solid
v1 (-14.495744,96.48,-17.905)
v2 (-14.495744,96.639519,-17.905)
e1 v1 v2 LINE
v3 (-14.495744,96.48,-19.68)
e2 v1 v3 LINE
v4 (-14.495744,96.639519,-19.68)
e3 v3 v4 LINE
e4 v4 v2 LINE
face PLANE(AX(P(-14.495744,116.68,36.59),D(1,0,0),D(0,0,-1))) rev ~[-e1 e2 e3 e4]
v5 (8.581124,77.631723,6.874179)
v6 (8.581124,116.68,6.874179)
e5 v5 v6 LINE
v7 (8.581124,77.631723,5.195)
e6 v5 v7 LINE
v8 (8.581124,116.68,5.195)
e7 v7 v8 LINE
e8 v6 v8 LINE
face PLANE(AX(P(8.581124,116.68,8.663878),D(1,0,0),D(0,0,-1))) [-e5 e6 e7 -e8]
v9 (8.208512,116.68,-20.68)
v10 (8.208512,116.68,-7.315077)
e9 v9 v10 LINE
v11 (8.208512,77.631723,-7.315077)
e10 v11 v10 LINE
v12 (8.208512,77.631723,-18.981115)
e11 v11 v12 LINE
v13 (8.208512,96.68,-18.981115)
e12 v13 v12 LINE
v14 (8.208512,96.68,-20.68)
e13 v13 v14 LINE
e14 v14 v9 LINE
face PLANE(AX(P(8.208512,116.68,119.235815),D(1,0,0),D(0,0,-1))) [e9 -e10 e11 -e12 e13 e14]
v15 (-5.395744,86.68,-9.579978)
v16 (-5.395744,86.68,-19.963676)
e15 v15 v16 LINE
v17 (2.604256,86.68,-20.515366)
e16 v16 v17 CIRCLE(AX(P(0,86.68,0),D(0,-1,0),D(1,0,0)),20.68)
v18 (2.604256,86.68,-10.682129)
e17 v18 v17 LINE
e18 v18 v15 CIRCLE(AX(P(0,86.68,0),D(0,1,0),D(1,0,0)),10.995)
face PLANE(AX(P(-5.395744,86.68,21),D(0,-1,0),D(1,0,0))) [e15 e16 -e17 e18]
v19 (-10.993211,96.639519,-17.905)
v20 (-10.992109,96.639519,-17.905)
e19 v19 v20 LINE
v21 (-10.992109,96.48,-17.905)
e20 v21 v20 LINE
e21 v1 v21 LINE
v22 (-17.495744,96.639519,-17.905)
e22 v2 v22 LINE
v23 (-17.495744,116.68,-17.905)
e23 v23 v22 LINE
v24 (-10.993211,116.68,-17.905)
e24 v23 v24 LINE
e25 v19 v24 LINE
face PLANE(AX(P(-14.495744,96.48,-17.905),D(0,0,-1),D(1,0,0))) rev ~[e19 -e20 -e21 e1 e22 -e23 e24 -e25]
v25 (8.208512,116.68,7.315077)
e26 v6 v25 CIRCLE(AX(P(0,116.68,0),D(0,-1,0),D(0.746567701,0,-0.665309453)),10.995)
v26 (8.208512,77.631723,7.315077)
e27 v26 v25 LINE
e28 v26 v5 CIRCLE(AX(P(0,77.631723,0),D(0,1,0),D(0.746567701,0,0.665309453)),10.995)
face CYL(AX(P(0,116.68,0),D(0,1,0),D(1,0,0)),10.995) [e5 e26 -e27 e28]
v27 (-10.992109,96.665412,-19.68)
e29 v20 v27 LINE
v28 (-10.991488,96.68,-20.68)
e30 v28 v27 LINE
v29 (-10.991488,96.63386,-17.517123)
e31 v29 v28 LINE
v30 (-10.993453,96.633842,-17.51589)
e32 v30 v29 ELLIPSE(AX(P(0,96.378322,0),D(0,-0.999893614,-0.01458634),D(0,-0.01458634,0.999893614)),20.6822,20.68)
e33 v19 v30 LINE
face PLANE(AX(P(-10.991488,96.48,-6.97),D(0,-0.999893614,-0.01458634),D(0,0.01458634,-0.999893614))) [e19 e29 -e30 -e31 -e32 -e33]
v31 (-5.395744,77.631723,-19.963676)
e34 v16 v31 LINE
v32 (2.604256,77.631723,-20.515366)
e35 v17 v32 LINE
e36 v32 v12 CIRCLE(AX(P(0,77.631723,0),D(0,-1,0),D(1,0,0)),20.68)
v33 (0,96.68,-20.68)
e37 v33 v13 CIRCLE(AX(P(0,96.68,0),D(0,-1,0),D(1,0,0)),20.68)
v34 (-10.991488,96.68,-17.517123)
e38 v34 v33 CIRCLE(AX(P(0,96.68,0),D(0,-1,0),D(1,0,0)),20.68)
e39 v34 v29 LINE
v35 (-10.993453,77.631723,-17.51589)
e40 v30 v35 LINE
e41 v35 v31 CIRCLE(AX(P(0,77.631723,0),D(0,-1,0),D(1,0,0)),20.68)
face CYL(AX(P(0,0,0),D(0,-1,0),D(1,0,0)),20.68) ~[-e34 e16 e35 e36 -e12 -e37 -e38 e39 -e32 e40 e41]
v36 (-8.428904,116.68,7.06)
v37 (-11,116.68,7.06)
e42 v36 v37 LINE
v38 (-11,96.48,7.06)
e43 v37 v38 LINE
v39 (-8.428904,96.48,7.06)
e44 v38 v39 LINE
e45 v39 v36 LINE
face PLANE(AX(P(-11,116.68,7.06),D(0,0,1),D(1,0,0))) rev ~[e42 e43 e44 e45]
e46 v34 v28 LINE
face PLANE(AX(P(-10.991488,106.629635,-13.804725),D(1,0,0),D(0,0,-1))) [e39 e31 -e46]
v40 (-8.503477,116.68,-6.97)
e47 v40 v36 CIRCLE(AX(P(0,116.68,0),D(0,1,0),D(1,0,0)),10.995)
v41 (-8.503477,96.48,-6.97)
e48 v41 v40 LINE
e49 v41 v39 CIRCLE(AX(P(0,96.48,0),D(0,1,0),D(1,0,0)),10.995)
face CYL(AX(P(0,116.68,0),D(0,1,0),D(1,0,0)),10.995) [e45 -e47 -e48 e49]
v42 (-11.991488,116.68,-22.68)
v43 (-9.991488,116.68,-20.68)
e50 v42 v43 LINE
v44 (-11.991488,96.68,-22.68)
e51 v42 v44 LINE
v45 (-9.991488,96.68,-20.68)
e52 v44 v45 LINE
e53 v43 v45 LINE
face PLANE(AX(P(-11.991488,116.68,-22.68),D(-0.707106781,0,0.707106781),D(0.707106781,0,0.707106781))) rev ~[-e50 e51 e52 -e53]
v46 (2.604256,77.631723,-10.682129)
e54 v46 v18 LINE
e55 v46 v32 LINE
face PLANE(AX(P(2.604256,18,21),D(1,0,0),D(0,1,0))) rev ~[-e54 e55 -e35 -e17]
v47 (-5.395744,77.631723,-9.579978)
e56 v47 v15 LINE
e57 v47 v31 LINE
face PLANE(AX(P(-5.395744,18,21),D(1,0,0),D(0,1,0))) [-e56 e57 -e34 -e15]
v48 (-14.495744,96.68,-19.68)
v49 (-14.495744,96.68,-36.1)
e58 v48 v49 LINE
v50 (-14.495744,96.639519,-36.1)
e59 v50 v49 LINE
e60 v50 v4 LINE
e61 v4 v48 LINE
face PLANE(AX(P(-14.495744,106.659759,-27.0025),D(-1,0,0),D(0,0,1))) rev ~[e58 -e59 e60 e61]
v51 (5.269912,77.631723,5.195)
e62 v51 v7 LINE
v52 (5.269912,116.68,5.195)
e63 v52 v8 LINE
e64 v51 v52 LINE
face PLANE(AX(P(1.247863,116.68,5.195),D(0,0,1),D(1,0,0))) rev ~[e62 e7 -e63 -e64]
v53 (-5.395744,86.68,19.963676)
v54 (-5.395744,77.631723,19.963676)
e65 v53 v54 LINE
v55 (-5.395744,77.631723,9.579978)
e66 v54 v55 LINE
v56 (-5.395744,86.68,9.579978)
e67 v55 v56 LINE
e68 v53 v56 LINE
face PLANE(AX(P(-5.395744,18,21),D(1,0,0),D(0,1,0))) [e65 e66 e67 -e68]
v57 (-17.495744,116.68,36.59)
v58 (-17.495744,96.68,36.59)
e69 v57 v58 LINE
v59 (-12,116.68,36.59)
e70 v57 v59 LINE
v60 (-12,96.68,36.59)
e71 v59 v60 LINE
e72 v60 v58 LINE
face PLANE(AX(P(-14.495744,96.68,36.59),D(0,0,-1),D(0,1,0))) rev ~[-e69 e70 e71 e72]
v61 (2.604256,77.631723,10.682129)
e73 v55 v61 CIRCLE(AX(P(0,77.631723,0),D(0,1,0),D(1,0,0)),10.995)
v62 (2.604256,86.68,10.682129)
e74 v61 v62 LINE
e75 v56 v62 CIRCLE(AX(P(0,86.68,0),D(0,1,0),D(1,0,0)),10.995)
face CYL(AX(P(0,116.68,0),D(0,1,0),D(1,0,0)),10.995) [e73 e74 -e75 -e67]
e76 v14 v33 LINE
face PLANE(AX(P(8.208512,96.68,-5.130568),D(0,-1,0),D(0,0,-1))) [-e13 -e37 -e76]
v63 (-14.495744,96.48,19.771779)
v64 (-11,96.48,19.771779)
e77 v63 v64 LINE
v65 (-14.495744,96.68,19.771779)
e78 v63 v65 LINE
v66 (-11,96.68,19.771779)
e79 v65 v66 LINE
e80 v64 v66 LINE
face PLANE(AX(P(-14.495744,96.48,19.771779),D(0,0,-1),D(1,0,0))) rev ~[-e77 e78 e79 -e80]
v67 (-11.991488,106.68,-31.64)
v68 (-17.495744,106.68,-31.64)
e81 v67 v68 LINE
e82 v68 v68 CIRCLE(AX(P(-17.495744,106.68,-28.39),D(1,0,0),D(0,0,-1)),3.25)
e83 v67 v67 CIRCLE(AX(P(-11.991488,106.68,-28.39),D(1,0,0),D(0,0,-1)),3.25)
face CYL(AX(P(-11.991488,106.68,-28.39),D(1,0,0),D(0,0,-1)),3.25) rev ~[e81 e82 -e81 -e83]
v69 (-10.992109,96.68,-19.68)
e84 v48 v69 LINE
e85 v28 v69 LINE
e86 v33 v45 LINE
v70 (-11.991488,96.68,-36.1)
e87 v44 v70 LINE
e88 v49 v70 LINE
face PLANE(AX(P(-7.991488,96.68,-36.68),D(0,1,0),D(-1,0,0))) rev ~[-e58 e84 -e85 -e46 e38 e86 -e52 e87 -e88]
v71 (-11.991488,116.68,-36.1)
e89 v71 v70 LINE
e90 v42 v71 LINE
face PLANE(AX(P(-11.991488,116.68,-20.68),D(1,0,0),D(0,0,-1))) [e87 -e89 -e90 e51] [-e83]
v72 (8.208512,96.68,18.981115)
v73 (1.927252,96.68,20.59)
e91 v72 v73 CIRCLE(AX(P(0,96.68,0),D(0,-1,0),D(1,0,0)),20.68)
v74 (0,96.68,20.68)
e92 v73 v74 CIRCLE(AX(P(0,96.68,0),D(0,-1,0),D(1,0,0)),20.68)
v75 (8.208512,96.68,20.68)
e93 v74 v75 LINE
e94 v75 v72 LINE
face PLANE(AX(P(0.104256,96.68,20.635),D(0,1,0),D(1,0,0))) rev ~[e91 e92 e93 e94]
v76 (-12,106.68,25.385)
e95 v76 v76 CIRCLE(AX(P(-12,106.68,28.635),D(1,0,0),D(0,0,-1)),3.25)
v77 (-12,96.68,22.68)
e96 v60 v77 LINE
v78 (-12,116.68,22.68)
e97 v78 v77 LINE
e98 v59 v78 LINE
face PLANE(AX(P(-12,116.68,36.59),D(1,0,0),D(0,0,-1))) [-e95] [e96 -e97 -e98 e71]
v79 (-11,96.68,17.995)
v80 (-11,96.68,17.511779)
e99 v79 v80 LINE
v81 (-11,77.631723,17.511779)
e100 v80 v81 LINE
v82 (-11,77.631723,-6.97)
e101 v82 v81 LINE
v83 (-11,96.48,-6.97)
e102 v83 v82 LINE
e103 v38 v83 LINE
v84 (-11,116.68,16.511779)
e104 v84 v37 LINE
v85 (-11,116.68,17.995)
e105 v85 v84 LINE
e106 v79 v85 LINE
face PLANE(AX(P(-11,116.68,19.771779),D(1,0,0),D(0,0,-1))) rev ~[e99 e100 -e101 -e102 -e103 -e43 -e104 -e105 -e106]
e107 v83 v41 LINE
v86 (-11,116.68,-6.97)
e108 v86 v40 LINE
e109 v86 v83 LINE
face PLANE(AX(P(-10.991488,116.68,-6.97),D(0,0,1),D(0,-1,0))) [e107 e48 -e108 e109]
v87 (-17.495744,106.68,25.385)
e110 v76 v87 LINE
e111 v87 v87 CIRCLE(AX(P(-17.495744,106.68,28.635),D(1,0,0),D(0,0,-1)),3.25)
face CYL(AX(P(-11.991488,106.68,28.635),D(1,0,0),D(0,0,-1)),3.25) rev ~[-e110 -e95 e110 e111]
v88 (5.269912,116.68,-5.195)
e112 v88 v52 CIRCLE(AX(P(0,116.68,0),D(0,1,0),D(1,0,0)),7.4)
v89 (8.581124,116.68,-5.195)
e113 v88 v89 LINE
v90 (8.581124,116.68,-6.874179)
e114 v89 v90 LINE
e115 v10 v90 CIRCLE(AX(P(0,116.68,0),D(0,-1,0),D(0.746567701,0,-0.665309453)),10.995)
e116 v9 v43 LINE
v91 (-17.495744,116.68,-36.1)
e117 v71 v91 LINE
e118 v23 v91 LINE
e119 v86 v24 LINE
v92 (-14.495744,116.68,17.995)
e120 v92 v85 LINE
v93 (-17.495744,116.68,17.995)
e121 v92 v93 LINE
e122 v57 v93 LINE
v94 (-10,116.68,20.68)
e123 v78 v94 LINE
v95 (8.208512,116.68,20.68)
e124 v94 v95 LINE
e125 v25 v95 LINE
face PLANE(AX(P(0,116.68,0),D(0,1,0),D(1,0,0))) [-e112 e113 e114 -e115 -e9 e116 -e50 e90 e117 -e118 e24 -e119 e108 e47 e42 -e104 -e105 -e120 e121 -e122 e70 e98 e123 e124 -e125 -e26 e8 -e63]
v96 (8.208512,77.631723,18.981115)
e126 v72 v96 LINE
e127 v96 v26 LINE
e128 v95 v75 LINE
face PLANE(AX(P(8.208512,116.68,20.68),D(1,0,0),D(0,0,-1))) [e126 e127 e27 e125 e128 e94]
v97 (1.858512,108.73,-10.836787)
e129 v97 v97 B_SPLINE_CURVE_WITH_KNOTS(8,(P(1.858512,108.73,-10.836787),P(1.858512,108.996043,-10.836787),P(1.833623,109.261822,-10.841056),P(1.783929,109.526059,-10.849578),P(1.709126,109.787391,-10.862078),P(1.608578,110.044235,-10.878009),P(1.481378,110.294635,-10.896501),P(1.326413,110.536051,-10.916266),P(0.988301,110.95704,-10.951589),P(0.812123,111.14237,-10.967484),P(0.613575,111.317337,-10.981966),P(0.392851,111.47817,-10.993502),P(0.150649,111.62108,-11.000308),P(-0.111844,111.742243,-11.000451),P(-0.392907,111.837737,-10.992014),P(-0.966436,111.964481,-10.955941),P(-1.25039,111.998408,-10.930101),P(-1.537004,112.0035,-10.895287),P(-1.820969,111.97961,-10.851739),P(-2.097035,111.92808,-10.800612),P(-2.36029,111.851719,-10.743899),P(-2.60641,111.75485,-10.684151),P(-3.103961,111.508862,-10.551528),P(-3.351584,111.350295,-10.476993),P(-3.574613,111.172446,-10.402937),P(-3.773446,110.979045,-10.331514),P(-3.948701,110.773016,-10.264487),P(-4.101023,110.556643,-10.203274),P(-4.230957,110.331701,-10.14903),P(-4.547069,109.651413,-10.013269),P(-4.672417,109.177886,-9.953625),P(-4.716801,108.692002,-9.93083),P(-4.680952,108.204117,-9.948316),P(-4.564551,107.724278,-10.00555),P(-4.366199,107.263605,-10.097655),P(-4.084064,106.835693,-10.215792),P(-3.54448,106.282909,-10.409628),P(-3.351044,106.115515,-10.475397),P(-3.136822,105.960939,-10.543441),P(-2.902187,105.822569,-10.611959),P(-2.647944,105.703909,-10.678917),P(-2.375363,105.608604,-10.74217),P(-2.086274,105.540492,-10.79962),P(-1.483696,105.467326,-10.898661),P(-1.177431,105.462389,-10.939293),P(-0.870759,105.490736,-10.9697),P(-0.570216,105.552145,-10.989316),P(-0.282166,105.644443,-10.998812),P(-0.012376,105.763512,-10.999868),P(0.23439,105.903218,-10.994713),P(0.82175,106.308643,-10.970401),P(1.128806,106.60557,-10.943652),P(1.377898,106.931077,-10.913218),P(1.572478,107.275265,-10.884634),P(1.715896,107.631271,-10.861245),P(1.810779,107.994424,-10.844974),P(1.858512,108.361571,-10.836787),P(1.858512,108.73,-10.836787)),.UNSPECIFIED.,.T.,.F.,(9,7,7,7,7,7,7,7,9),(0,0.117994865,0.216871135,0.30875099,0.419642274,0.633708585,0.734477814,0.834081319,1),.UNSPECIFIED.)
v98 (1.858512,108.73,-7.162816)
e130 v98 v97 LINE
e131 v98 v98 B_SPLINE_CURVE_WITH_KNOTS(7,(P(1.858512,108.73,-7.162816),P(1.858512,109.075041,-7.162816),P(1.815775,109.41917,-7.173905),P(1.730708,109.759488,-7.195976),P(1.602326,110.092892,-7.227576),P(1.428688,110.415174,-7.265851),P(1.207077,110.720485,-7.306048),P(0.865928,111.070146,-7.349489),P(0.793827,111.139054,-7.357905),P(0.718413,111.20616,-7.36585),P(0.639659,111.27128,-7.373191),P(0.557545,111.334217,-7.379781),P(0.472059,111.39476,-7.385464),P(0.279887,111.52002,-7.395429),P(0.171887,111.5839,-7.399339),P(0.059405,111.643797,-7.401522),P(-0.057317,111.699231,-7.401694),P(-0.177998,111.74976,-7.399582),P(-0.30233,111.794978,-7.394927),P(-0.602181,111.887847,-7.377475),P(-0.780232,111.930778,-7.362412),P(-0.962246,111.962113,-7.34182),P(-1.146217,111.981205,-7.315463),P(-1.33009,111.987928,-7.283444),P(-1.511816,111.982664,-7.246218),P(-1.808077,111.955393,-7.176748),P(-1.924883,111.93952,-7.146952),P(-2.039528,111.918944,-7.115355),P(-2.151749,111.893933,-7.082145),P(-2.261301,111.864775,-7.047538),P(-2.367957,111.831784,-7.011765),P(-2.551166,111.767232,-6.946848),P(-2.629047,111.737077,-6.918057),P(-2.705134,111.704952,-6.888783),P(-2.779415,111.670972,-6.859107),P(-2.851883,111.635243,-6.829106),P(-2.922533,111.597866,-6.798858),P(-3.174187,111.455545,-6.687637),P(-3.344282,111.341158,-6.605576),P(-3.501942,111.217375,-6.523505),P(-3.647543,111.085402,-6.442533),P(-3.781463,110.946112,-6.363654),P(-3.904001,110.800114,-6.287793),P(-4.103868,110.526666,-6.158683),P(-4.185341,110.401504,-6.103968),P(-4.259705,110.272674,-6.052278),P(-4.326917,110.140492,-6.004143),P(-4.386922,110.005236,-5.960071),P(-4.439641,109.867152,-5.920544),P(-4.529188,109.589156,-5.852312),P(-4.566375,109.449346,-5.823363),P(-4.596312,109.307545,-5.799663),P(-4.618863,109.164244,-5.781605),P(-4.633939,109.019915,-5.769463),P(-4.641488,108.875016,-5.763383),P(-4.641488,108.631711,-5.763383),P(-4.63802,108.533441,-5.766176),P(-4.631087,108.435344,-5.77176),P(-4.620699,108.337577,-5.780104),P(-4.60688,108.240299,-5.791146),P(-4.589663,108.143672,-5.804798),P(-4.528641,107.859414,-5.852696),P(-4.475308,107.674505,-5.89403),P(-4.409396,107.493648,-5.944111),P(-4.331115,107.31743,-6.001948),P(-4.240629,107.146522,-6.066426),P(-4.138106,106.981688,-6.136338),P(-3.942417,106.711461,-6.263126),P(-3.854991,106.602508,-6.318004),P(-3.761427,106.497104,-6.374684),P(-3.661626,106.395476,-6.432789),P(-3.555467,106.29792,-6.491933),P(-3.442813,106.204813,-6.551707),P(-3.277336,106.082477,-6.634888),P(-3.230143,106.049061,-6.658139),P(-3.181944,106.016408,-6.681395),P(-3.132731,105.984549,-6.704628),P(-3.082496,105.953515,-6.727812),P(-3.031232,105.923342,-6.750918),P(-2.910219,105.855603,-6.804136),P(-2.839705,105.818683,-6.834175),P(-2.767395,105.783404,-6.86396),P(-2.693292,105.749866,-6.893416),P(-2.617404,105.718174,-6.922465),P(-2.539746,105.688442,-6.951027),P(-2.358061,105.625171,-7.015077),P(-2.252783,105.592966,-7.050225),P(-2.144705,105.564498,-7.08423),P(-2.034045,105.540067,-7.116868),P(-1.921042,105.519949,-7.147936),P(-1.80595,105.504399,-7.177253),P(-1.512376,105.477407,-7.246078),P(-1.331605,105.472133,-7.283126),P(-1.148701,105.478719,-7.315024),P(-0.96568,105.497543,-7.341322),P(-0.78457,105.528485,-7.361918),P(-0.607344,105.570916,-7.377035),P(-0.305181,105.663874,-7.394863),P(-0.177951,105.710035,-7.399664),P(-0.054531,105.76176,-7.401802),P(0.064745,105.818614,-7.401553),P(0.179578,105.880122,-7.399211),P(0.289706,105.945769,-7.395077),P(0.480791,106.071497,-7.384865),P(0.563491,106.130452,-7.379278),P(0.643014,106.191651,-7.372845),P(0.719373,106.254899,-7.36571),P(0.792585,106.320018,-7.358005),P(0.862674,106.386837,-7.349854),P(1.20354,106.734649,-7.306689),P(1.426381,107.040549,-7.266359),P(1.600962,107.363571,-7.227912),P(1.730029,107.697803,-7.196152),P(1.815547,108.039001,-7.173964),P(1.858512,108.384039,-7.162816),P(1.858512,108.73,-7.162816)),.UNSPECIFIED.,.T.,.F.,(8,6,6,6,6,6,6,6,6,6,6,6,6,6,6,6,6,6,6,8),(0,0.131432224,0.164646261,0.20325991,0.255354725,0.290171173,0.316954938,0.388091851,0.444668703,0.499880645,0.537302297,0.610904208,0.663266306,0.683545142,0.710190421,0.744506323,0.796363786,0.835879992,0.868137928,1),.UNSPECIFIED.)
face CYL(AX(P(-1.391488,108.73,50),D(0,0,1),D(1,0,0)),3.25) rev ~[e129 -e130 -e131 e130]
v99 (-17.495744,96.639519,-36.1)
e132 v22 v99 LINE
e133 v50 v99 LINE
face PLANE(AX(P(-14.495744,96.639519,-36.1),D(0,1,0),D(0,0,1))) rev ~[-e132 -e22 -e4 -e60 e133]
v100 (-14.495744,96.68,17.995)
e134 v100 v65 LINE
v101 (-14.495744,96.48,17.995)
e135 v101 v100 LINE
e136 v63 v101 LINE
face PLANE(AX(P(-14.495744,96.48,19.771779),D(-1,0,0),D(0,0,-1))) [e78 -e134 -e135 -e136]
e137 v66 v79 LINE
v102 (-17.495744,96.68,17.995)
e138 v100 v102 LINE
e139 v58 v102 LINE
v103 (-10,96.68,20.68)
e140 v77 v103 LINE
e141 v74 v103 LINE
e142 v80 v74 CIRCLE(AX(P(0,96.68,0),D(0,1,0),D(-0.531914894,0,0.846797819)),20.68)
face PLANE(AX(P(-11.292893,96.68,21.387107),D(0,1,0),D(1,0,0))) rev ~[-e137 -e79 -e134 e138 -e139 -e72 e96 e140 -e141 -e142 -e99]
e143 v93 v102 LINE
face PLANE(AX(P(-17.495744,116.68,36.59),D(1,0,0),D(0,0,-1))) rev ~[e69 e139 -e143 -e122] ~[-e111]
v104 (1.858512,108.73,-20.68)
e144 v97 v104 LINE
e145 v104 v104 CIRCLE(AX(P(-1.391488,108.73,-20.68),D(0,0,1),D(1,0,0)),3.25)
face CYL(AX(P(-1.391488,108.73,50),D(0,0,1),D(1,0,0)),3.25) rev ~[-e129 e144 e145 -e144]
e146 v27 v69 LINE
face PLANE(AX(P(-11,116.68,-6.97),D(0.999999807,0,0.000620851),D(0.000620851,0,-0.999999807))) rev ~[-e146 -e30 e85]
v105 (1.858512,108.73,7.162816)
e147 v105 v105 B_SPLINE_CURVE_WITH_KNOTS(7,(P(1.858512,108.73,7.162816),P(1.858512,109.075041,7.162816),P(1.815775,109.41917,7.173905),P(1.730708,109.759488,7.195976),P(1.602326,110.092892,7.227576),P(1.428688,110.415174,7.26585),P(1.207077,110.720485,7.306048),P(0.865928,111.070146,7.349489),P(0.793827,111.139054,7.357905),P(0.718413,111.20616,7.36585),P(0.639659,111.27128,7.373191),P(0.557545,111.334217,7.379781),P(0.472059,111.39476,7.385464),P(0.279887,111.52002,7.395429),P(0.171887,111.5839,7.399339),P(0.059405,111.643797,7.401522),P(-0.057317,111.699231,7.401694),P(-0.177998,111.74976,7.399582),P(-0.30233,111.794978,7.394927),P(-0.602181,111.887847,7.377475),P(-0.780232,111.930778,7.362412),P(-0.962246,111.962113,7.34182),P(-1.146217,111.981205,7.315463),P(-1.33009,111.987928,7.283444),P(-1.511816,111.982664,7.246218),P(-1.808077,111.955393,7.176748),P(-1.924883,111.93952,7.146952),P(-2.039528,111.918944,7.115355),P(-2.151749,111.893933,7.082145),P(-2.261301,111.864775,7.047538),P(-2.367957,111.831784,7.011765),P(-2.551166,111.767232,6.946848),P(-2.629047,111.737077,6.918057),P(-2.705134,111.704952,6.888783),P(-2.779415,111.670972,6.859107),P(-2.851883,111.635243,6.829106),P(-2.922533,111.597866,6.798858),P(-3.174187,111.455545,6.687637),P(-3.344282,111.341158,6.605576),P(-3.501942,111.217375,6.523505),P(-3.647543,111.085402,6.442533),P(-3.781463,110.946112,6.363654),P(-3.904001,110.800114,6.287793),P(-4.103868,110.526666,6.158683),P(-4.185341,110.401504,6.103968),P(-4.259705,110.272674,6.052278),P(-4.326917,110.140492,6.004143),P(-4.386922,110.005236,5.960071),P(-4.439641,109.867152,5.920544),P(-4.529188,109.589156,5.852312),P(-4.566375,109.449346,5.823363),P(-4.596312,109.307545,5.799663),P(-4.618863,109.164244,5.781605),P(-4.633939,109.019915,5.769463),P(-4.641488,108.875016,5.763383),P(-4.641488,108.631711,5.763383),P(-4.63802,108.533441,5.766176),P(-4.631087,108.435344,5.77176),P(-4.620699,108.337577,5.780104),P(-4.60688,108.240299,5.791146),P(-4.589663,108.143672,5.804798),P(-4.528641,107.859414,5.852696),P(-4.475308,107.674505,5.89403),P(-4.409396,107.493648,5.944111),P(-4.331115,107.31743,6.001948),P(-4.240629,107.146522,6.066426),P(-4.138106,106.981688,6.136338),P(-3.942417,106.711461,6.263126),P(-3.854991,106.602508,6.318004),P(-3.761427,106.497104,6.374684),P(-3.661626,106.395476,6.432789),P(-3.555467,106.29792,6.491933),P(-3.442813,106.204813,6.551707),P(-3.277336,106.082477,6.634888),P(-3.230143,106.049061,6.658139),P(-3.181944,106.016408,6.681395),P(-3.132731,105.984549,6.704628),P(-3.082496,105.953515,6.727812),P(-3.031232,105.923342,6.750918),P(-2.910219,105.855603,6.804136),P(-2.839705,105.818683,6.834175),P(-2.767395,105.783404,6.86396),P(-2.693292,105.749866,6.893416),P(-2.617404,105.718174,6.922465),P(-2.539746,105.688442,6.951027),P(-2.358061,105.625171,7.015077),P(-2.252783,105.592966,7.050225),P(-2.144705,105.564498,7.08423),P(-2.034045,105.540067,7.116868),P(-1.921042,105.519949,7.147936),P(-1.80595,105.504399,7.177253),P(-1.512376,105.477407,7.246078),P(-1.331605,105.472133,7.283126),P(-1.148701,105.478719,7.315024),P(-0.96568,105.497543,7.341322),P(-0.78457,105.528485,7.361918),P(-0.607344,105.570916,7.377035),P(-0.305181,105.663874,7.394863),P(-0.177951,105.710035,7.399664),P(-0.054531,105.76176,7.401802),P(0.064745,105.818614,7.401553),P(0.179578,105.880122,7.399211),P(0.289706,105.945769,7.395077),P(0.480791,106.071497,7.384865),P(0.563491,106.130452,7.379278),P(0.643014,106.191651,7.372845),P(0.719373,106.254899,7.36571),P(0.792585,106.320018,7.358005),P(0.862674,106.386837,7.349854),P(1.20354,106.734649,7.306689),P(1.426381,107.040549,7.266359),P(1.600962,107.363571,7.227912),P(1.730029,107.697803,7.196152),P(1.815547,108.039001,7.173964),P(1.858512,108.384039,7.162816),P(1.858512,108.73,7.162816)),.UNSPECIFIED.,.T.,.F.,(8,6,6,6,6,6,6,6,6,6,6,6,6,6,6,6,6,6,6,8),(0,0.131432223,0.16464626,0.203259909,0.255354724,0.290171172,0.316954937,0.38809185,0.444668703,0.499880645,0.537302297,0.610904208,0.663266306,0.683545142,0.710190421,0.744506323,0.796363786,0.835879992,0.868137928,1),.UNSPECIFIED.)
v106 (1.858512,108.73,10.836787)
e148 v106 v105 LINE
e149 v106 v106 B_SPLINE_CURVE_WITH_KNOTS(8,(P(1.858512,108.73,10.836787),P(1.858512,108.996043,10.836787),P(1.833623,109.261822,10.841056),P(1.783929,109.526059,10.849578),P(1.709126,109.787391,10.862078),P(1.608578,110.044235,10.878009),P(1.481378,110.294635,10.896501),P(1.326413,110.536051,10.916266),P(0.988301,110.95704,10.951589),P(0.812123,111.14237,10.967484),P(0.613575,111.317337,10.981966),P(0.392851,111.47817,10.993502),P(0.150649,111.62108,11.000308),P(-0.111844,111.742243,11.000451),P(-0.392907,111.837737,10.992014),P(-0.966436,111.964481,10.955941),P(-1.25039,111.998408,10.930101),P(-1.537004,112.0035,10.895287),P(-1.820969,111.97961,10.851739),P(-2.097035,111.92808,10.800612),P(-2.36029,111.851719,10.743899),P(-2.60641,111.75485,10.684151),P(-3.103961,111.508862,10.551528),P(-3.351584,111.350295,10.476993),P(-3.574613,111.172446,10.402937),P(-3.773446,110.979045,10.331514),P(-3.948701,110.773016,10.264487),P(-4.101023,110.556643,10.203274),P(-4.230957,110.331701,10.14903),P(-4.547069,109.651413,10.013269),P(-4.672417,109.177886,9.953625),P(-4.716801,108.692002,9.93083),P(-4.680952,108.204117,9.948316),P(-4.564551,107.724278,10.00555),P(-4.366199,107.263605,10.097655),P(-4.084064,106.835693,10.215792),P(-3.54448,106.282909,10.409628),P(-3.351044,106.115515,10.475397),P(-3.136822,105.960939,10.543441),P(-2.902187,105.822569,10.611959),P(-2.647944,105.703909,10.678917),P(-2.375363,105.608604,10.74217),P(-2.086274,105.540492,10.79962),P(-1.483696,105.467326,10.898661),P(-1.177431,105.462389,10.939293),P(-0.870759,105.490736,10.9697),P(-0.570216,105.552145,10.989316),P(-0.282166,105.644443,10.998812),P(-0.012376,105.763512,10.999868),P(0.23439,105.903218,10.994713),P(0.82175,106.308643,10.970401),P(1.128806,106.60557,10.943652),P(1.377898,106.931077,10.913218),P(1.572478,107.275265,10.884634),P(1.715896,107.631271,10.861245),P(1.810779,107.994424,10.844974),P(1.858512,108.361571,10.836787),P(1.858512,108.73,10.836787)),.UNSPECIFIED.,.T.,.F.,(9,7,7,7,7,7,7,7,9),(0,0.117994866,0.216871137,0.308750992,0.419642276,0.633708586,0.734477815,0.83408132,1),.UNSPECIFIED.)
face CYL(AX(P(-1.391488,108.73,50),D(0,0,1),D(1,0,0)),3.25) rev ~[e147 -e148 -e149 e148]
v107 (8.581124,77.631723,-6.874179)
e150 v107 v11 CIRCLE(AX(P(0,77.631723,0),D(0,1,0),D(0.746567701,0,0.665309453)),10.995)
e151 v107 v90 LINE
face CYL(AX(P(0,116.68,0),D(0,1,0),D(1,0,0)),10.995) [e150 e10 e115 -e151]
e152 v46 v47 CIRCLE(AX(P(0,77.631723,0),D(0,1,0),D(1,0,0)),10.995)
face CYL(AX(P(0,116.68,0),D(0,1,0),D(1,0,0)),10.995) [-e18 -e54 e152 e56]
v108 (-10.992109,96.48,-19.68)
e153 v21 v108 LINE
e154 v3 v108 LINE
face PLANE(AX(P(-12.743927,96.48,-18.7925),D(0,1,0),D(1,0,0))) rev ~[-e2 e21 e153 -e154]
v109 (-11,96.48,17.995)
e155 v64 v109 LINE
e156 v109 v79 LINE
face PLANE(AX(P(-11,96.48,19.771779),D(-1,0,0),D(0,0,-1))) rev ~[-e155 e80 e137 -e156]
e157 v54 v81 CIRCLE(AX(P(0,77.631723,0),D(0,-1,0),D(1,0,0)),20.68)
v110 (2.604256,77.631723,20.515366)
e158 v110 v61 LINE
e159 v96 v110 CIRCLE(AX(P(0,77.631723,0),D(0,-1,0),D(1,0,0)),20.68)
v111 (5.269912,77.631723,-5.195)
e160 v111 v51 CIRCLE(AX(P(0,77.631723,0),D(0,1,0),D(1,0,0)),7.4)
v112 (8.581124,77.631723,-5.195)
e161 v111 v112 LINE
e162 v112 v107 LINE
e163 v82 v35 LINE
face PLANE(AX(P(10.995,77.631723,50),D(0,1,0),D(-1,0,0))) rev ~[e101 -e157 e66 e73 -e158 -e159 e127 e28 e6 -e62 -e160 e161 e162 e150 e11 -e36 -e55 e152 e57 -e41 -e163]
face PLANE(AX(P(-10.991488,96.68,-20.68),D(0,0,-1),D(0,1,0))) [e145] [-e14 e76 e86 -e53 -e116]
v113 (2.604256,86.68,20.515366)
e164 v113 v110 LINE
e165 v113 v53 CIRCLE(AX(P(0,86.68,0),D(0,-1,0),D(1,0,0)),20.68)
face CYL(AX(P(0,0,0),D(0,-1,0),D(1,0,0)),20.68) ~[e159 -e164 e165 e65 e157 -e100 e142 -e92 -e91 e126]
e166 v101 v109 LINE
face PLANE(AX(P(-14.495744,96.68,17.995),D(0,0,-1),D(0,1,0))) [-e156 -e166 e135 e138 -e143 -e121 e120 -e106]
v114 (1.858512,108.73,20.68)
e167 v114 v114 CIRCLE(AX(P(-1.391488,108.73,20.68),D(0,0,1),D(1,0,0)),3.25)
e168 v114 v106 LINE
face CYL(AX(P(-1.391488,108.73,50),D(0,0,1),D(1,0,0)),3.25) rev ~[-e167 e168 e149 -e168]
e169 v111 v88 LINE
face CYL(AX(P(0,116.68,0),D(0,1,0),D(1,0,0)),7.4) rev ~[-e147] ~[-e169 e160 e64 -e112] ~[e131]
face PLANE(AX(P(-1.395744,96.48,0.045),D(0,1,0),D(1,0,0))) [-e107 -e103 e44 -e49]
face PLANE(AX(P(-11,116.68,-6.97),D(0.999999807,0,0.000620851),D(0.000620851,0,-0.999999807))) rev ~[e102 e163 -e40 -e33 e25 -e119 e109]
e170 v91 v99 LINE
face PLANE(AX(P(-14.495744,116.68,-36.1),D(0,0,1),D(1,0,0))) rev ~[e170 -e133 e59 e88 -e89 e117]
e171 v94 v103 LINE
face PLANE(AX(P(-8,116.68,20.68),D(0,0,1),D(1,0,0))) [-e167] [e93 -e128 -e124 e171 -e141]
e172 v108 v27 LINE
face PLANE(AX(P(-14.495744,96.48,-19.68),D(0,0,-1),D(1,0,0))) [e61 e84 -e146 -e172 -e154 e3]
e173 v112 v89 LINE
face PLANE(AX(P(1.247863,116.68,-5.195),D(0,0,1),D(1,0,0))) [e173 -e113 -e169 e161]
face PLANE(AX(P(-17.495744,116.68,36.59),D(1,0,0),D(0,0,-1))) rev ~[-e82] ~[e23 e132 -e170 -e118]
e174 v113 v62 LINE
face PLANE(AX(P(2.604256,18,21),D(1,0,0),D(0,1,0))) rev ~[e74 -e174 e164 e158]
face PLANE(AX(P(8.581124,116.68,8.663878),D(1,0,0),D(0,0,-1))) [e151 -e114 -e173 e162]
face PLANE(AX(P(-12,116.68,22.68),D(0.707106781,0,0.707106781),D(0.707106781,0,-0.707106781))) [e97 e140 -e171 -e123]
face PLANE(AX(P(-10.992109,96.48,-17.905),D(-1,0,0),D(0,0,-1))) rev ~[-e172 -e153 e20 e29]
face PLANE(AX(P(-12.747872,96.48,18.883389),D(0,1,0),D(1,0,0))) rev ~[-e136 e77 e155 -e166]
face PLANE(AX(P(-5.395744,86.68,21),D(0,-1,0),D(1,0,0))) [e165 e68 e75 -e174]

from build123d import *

# Parameters (mm, degrees)
SKETCH_1_R                = 20.68
SKETCH_1_R_2              = 9.68
EXTRUDE_1_DEPTH           = 116.68
SKETCH_11_W               = 27
SKETCH_11_H               = 150
CUT_EXTRUDE_3_DEPTH       = 40
SKETCH_13_W               = 10
SKETCH_13_H               = 128.345013401
CUT_EXTRUDE_7_DEPTH       = 42.68
SKETCH_15_W               = 8
SKETCH_15_H               = 68.68
CUT_EXTRUDE_9_DEPTH       = 48
SKETCH_16_W               = 15.549431524
SKETCH_16_H               = 20
SKETCH_16_W_2             = 15.459431524
EXTRUDE_4_DEPTH           = 19.2
SKETCH_17_W               = 19.20851187
SKETCH_17_H               = 14.03
CUT_EXTRUDE_10_DEPTH      = 20.2
SKETCH_18_R               = 9.59
CUT_EXTRUDE_11_DEPTH      = 117.68
SKETCH_21_R               = 2.985
CUT_EXTRUDE_12_DEPTH      = 55.2
SKETCH_24_R               = 20.59
SKETCH_24_R_2             = 9.59
EXTRUDE_2_DEPTH           = 55.2
CUT_EXTRUDE_13_DEPTH      = 55.2
SKETCH_26_W               = 10.00851187
SKETCH_26_H               = 41.68
CUT_EXTRUDE_15_DEPTH      = 55.2
SKETCH_27_W               = 10
SKETCH_27_H               = 40
CUT_EXTRUDE_16_DEPTH      = 55.2
SKETCH_28_W               = 44.880694938
SKETCH_28_H               = 9.608044066
CUT_EXTRUDE_17_DEPTH      = 12.2
SKETCH_35_W               = 13.53
SKETCH_35_H               = 20
EXTRUDE_10_DEPTH          = 15
EXTRUDE_11_DEPTH          = 15
SKETCH_37_W               = 9
SKETCH_37_H               = 20
EXTRUDE_12_DEPTH          = 20
SKETCH_38_W               = 9
SKETCH_38_H               = 20
EXTRUDE_13_DEPTH          = 20
SKETCH_42_R               = 2.985
CUT_EXTRUDE_21_DEPTH      = 20
CUT_EXTRUDE_23_DEPTH      = 129.465
SKETCH_45_W               = 3
SKETCH_45_H               = 20
EXTRUDE_14_DEPTH          = 30
SKETCH_46_W               = 3
SKETCH_46_H               = 20
EXTRUDE_15_DEPTH          = 30
SKETCH_47_W               = 33.078221107
SKETCH_47_H               = 20
EXTRUDE_16_DEPTH          = 50
SKETCH_48_W               = 30
SKETCH_48_H               = 20
EXTRUDE_17_DEPTH          = 50
SKETCH_50_W               = 50
SKETCH_50_H               = 20
EXTRUDE_18_DEPTH          = 1
SKETCH_51_W               = 50
SKETCH_51_H               = 20
EXTRUDE_19_DEPTH          = 1
SKETCH_52_W               = 53
SKETCH_52_H               = 14
CUT_EXTRUDE_24_DEPTH      = 129.465
SKETCH_53_W               = 53
SKETCH_53_H               = 14
CUT_EXTRUDE_25_DEPTH      = 129.465
SKETCH_54_W               = 40
SKETCH_54_H               = 73.27
CUT_EXTRUDE_26_DEPTH      = 129.465
SKETCH_56_W               = 13.00851187
SKETCH_56_H               = 20
EXTRUDE_21_DEPTH          = 3.08
SKETCH_58_W               = 44.672014854
SKETCH_58_H               = 95.939897673
CUT_EXTRUDE_28_DEPTH      = 90.76
SKETCH_59_R               = 9.7
CUT_EXTRUDE_29_DEPTH      = 40.048276961
SKETCH_60_W               = 6.504255935
SKETCH_60_H               = 76.35
CUT_EXTRUDE_30_DEPTH      = 40.048276961
CUT_EXTRUDE_32_DEPTH      = 20
SKETCH_64_W               = 16.20851187
SKETCH_64_H               = 0.09
EXTRUDE_22_DEPTH          = 20
SKETCH_65_W               = 3.495744065
SKETCH_65_H               = 3.26
CUT_EXTRUDE_33_DEPTH      = 40.048276961
SKETCH_66_W               = 3.495744065
SKETCH_66_H               = 1.776778893
SKETCH_66_W_2             = 3.503635083
SKETCH_66_H_2             = 1.775
EXTRUDE_23_DEPTH          = 20.2
SKETCH_68_W               = 6.504255935
SKETCH_68_H               = 3.66
CUT_EXTRUDE_34_DEPTH      = 20
SKETCH_69_R               = 2.985
CUT_EXTRUDE_35_DEPTH      = 7.504255935
SKETCH_70_R               = 2.985
CUT_EXTRUDE_36_DEPTH      = 17
SKETCH_71_W               = 18.595
SKETCH_71_H               = 20
SKETCH_71_W_2             = 18.195
SKETCH_71_H_2             = 20.0404814
EXTRUDE_24_DEPTH          = 10
SKETCH_72_R               = 3.05
CUT_EXTRUDE_37_DEPTH      = 17.495744065
SKETCH_73_W               = 4
SKETCH_73_H               = 15.42
CUT_EXTRUDE_39_DEPTH      = 40.048276961
SKETCH_74_W               = 4
SKETCH_74_H               = 15.91
CUT_EXTRUDE_40_DEPTH      = 40.048276961
EXTRUDE_25_DEPTH          = 20
SKETCH_77_W               = 7
SKETCH_77_H               = 72.69
CUT_EXTRUDE_41_DEPTH      = 40.048276961
SKETCH_78_R               = 3.25
CUT_EXTRUDE_42_DEPTH      = 87.1
SKETCH_79_R               = 3.25
CUT_EXTRUDE_43_DEPTH      = 10
CUT_EXTRUDE_43_DEPTH_BACK = 10
SKETCH_80_R               = 10.995
SKETCH_80_R_2             = 6.995
EXTRUDE_3_DEPTH           = 40
CUT_EXTRUDE_44_DEPTH      = 87.1
SKETCH_82_W               = 11.494274306
SKETCH_82_H               = 10.39
CUT_EXTRUDE_45_DEPTH      = 43
SKETCH_83_R               = 3.25
CUT_EXTRUDE_46_DEPTH      = 78
SKETCH_84_W               = 4.108929189
SKETCH_84_H               = 16.904278856
CUT_EXTRUDE_47_DEPTH      = 46
SKETCH_85_R               = 7.4
CUT_EXTRUDE_48_DEPTH      = 40.048276961


with BuildPart() as part:
    # 草圖1 → 伸長-薄件1 (new body)
    with BuildSketch(Plane(origin=(0, 0, 0), x_dir=(1, 0, 0), z_dir=(0, 1, 0))):
        Circle(SKETCH_1_R)
        Circle(SKETCH_1_R_2, mode=Mode.SUBTRACT)
    extrude(amount=EXTRUDE_1_DEPTH)

    # 草圖11 → 除料-伸長3 (cut)
    with BuildSketch(Plane(origin=(0, 116.68, 0), x_dir=(1, 0, 0), z_dir=(0, 1, 0))):
        with Locations((21.70851187, -44.235815192)):
            Rectangle(SKETCH_11_W, SKETCH_11_H)
    extrude(amount=-CUT_EXTRUDE_3_DEPTH, mode=Mode.SUBTRACT)

    # 草圖13 → 除料-伸長7 (cut, through all)
    with BuildSketch(Plane.XY.offset(21)):
        with Locations((-16, 58.612182466)):
            Rectangle(SKETCH_13_W, SKETCH_13_H)
    extrude(amount=-CUT_EXTRUDE_7_DEPTH, mode=Mode.SUBTRACT)

    # 草圖15 → 除料-伸長9 (cut)
    with BuildSketch(Plane.XY.offset(21)):
        with Locations((-1.395744065, 52.34)):
            Rectangle(SKETCH_15_W, SKETCH_15_H)
    extrude(amount=-CUT_EXTRUDE_9_DEPTH, mode=Mode.SUBTRACT)

    # 草圖16 → 填料-伸長4 (add)
    with BuildSketch(Plane(origin=(8.20851187, 0, 0), x_dir=(0, 0, -1), z_dir=(1, 0, 0))):
        with Locations((12.905284238, 106.68)):
            Rectangle(SKETCH_16_W, SKETCH_16_H)
        with Locations((-12.860284238, 106.68)):
            Rectangle(SKETCH_16_W_2, SKETCH_16_H)
    extrude(amount=-EXTRUDE_4_DEPTH)

    # 草圖17 → 除料-伸長10 (cut)
    with BuildSketch(Plane(origin=(0, 116.68, 0), x_dir=(1, 0, 0), z_dir=(0, 1, 0))):
        with Locations((-1.395744065, -0.045)):
            Rectangle(SKETCH_17_W, SKETCH_17_H)
    extrude(amount=-CUT_EXTRUDE_10_DEPTH, mode=Mode.SUBTRACT)

    # 草圖18 → 除料-伸長11 (cut, through all)
    with BuildSketch(Plane.XZ):
        Circle(SKETCH_18_R)
    extrude(amount=-CUT_EXTRUDE_11_DEPTH, mode=Mode.SUBTRACT)

    # 草圖21 → 除料-伸長12 (cut)
    with BuildSketch(Plane(origin=(0, 0, -20.68), x_dir=(-1, 0, 0), z_dir=(0, 0, -1))):
        with Locations((1.39148813, 108.73)):
            Circle(SKETCH_21_R)
    extrude(amount=-CUT_EXTRUDE_12_DEPTH, mode=Mode.SUBTRACT)

    # 草圖24 → 伸長-薄件2 (add)
    with BuildSketch(Plane.XZ):
        Circle(SKETCH_24_R)
        Circle(SKETCH_24_R_2, mode=Mode.SUBTRACT)
    extrude(amount=EXTRUDE_2_DEPTH)

    # 草圖25 → 除料-伸長13 (cut)
    with BuildSketch(Plane.XY.offset(21)):
        Polygon((-1.39148813, -11.785), (22.612379708, -11.785), (22.612379708, -63.873337429), (-22.749525245, -63.873337429), (-22.749525245, -11.785), align=None)
    extrude(amount=-CUT_EXTRUDE_13_DEPTH, mode=Mode.SUBTRACT)

    # 草圖26 → 除料-伸長15 (cut)
    with BuildSketch(Plane(origin=(0, 0, 0), x_dir=(1, 0, 0), z_dir=(0, 1, 0))):
        with Locations((-15.995744065, -0.16)):
            Rectangle(SKETCH_26_W, SKETCH_26_H)
    extrude(amount=-CUT_EXTRUDE_15_DEPTH, mode=Mode.SUBTRACT)

    # 草圖27 → 除料-伸長16 (cut)
    with BuildSketch(Plane(origin=(21, 0, 0), x_dir=(0, 0, -1), z_dir=(1, 0, 0))):
        with Locations((0, 41.68)):
            Rectangle(SKETCH_27_W, SKETCH_27_H)
    extrude(amount=-CUT_EXTRUDE_16_DEPTH, mode=Mode.SUBTRACT)

    # 草圖28 → 除料-伸長17 (cut)
    with BuildSketch(Plane(origin=(21, 0, 0), x_dir=(0, 0, -1), z_dir=(1, 0, 0))):
        Rectangle(SKETCH_28_W, SKETCH_28_H)
    extrude(amount=-CUT_EXTRUDE_17_DEPTH, mode=Mode.SUBTRACT)

    # 草圖35 → 填料-伸長10 (add)
    with BuildSketch(Plane.ZY.offset(10.99148813)):
        with Locations((13.825, 106.68)):
            Rectangle(SKETCH_35_W, SKETCH_35_H)
    extrude(amount=EXTRUDE_10_DEPTH)

    # 草圖36 → 填料-伸長11 (add)
    with BuildSketch(Plane.ZY.offset(10.99148813)):
        Polygon((-20.68, 116.68), (-6.97, 116.68), (-6.97, 96.48), (-20.68, 96.68), align=None)
    extrude(amount=EXTRUDE_11_DEPTH)

    # 草圖37 → 填料-伸長12 (add)
    with BuildSketch(Plane.XY.offset(20.59)):
        with Locations((-21.49148813, 106.68)):
            Rectangle(SKETCH_37_W, SKETCH_37_H)
    extrude(amount=EXTRUDE_12_DEPTH)

    # 草圖38 → 填料-伸長13 (add)
    with BuildSketch(Plane(origin=(0, 0, -20.68), x_dir=(-1, 0, 0), z_dir=(0, 0, -1))):
        with Locations((21.49148813, 106.68)):
            Rectangle(SKETCH_38_W, SKETCH_38_H)
    extrude(amount=EXTRUDE_13_DEPTH)

    # 草圖42 → 除料-伸長21 (cut)
    with BuildSketch(Plane(origin=(-16.99148813, 0, 0), x_dir=(0, 0, -1), z_dir=(1, 0, 0))):
        with Locations((30.68, 106.554418142)):
            Circle(SKETCH_42_R)
        with Locations((-30.395640125, 106.68)):
            Circle(SKETCH_42_R)
    extrude(amount=-CUT_EXTRUDE_21_DEPTH, mode=Mode.SUBTRACT)

    # 草圖43 → 除料-伸長23 (cut, through all)
    with BuildSketch(Plane(origin=(0, 116.68, 0), x_dir=(1, 0, 0), z_dir=(0, 1, 0))):
        Polygon((-11, 6.97), (-10.99148813, 20.68), (-10.99148813, 48.096794253), (-28.274756234, 48.096794253), (-28.274756234, -43.270506289), (-11, -43.270506289), align=None)
    extrude(amount=-CUT_EXTRUDE_23_DEPTH, mode=Mode.SUBTRACT)

    # 草圖45 → 填料-伸長14 (add)
    with BuildSketch(Plane.XY.offset(20.59)):
        with Locations((-9.5, 106.68)):
            Rectangle(SKETCH_45_W, SKETCH_45_H)
    extrude(amount=EXTRUDE_14_DEPTH)

    # 草圖46 → 填料-伸長15 (add)
    with BuildSketch(Plane(origin=(0, 0, -20.68), x_dir=(-1, 0, 0), z_dir=(0, 0, -1))):
        with Locations((9.49148813, 106.68)):
            Rectangle(SKETCH_46_W, SKETCH_46_H)
    extrude(amount=EXTRUDE_15_DEPTH)

    # 草圖47 → 填料-伸長16 (add)
    with BuildSketch(Plane.ZY.offset(11)):
        with Locations((34.050889447, 106.68)):
            Rectangle(SKETCH_47_W, SKETCH_47_H)
    extrude(amount=EXTRUDE_16_DEPTH)

    # 草圖48 → 填料-伸長17 (add)
    with BuildSketch(Plane.ZY.offset(10.99148813)):
        with Locations((-35.68, 106.68)):
            Rectangle(SKETCH_48_W, SKETCH_48_H)
    extrude(amount=EXTRUDE_17_DEPTH)

    # 草圖50 → 填料-伸長18 (add)
    with BuildSketch(Plane(origin=(0, 0, 17.511778893), x_dir=(-1, 0, 0), z_dir=(0, 0, -1))):
        with Locations((36, 106.68)):
            Rectangle(SKETCH_50_W, SKETCH_50_H)
    extrude(amount=EXTRUDE_18_DEPTH)

    # 草圖51 → 填料-伸長19 (add)
    with BuildSketch(Plane.XY.offset(-20.68)):
        with Locations((-35.99148813, 106.68)):
            Rectangle(SKETCH_51_W, SKETCH_51_H)
    extrude(amount=EXTRUDE_19_DEPTH)

    # 草圖52 → 除料-伸長24 (cut, through all)
    with BuildSketch(Plane(origin=(0, 116.68, 0), x_dir=(1, 0, 0), z_dir=(0, 1, 0))):
        with Locations((-34.49148813, 43.68)):
            Rectangle(SKETCH_52_W, SKETCH_52_H)
    extrude(amount=-CUT_EXTRUDE_24_DEPTH, mode=Mode.SUBTRACT)

    # 草圖53 → 除料-伸長25 (cut, through all)
    with BuildSketch(Plane(origin=(0, 116.68, 0), x_dir=(1, 0, 0), z_dir=(0, 1, 0))):
        with Locations((-34.5, -43.59)):
            Rectangle(SKETCH_53_W, SKETCH_53_H)
    extrude(amount=-CUT_EXTRUDE_25_DEPTH, mode=Mode.SUBTRACT)

    # 草圖54 → 除料-伸長26 (cut, through all)
    with BuildSketch(Plane(origin=(0, 116.68, 0), x_dir=(1, 0, 0), z_dir=(0, 1, 0))):
        with Locations((-41, 0.045)):
            Rectangle(SKETCH_54_W, SKETCH_54_H)
    extrude(amount=-CUT_EXTRUDE_26_DEPTH, mode=Mode.SUBTRACT)

    # 草圖56 → 填料-伸長21 (add)
    with BuildSketch(Plane(origin=(0, 0, -36.68), x_dir=(-1, 0, 0), z_dir=(0, 0, -1))):
        with Locations((14.495744065, 106.68)):
            Rectangle(SKETCH_56_W, SKETCH_56_H)
    extrude(amount=EXTRUDE_21_DEPTH)

    # 草圖58 → 除料-伸長28 (cut, through all)
    with BuildSketch(Plane.XY.offset(50)):
        with Locations((-0.234953045, 29.661774302)):
            Rectangle(SKETCH_58_W, SKETCH_58_H)
    extrude(amount=-CUT_EXTRUDE_28_DEPTH, mode=Mode.SUBTRACT)

    # 草圖59 → 除料-伸長29 (cut, through all)
    with BuildSketch(Plane.XZ.offset(-77.631723139)):
        Circle(SKETCH_59_R)
    extrude(amount=-CUT_EXTRUDE_29_DEPTH, mode=Mode.SUBTRACT)

    # 草圖60 → 除料-伸長30 (cut, through all)
    with BuildSketch(Plane(origin=(0, 116.68, 0), x_dir=(1, 0, 0), z_dir=(0, 1, 0))):
        with Locations((-17.747872032, 1.585)):
            Rectangle(SKETCH_60_W, SKETCH_60_H)
    extrude(amount=-CUT_EXTRUDE_30_DEPTH, mode=Mode.SUBTRACT)

    # 草圖61 → 除料-伸長32 (cut)
    with BuildSketch(Plane(origin=(0, 116.68, 0), x_dir=(1, 0, 0), z_dir=(0, 1, 0))):
        Polygon((1.92725193, -20.59), (1.92725193, -22.399121663), (-2.174190472, -21.421542421), (-2.174190472, -20.59), align=None)
    extrude(amount=-CUT_EXTRUDE_32_DEPTH, mode=Mode.SUBTRACT)

    # 草圖64 → 填料-伸長22 (add)
    with BuildSketch(Plane(origin=(0, 116.68, 0), x_dir=(1, 0, 0), z_dir=(0, 1, 0))):
        with Locations((0.104255935, -20.635)):
            Rectangle(SKETCH_64_W, SKETCH_64_H)
    extrude(amount=-EXTRUDE_22_DEPTH)

    # 草圖65 → 除料-伸長33 (cut, through all)
    with BuildSketch(Plane(origin=(0, 116.68, 0), x_dir=(1, 0, 0), z_dir=(0, 1, 0))):
        with Locations((-12.747872033, -18.141778893)):
            Rectangle(SKETCH_65_W, SKETCH_65_H)
    extrude(amount=-CUT_EXTRUDE_33_DEPTH, mode=Mode.SUBTRACT)

    # 草圖66 → 填料-伸長23 (add)
    with BuildSketch(Plane(origin=(0, 96.48, 0), x_dir=(1, 0, 0), z_dir=(0, 1, 0))):
        with Locations((-12.747872033, -18.883389447)):
            Rectangle(SKETCH_66_W, SKETCH_66_H)
        with Locations((-12.743926524, 18.7925)):
            Rectangle(SKETCH_66_W_2, SKETCH_66_H_2)
    extrude(amount=EXTRUDE_23_DEPTH)

    # 草圖68 → 除料-伸長34 (cut)
    with BuildSketch(Plane(origin=(0, 116.68, 0), x_dir=(1, 0, 0), z_dir=(0, 1, 0))):
        with Locations((-11.243616098, 37.93)):
            Rectangle(SKETCH_68_W, SKETCH_68_H)
    extrude(amount=-CUT_EXTRUDE_34_DEPTH, mode=Mode.SUBTRACT)

    # 草圖69 → 除料-伸長35 (cut, through all)
    with BuildSketch(Plane(origin=(-7.99148813, 0, 0), x_dir=(0, 0, -1), z_dir=(1, 0, 0))):
        with Locations((28.39, 106.68)):
            Circle(SKETCH_69_R)
        with Locations((-28.635, 106.68)):
            Circle(SKETCH_69_R)
    extrude(amount=-CUT_EXTRUDE_35_DEPTH, mode=Mode.SUBTRACT)

    # 草圖70 → 除料-伸長36 (cut, through all)
    with BuildSketch(Plane(origin=(0, 0, 20.59), x_dir=(-1, 0, 0), z_dir=(0, 0, -1))):
        with Locations((1.39148813, 108.73)):
            Circle(SKETCH_70_R)
    extrude(amount=-CUT_EXTRUDE_36_DEPTH, mode=Mode.SUBTRACT)

    # 草圖71 → 填料-伸長24 (add)
    with BuildSketch(Plane.ZY.offset(14.495744065)):
        with Locations((27.2925, 106.68)):
            Rectangle(SKETCH_71_W, SKETCH_71_H)
        with Locations((-27.0025, 106.6597593)):
            Rectangle(SKETCH_71_W_2, SKETCH_71_H_2)
    extrude(amount=EXTRUDE_24_DEPTH)

    # 草圖72 → 除料-伸長37 (cut, through all)
    with BuildSketch(Plane(origin=(-8, 0, 0), x_dir=(0, 0, -1), z_dir=(1, 0, 0))):
        with Locations((-28.635, 106.68)):
            Circle(SKETCH_72_R)
        with Locations((28.39, 106.68)):
            Circle(SKETCH_72_R)
    extrude(amount=-CUT_EXTRUDE_37_DEPTH, mode=Mode.SUBTRACT)

    # 草圖73 → 除料-伸長39 (cut, through all)
    with BuildSketch(Plane(origin=(0, 116.68, 0), x_dir=(1, 0, 0), z_dir=(0, 1, 0))):
        with Locations((-9.99148813, 28.39)):
            Rectangle(SKETCH_73_W, SKETCH_73_H)
    extrude(amount=-CUT_EXTRUDE_39_DEPTH, mode=Mode.SUBTRACT)

    # 草圖74 → 除料-伸長40 (cut, through all)
    with BuildSketch(Plane(origin=(0, 116.68, 0), x_dir=(1, 0, 0), z_dir=(0, 1, 0))):
        with Locations((-10, -28.635)):
            Rectangle(SKETCH_74_W, SKETCH_74_H)
    extrude(amount=-CUT_EXTRUDE_40_DEPTH, mode=Mode.SUBTRACT)

    # 草圖75 → 填料-伸長25 (add)
    with BuildSketch(Plane(origin=(0, 116.68, 0), x_dir=(1, 0, 0), z_dir=(0, 1, 0))):
        Polygon((-12, -20.68), (-12, -22.68), (-10, -20.68), align=None)
        Polygon((-11.99148813, 20.68), (-11.99148813, 22.68), (-9.99148813, 20.68), align=None)
    extrude(amount=-EXTRUDE_25_DEPTH)

    # 草圖77 → 除料-伸長41 (cut, through all)
    with BuildSketch(Plane(origin=(0, 116.68, 0), x_dir=(1, 0, 0), z_dir=(0, 1, 0))):
        with Locations((-20.995744065, -0.245)):
            Rectangle(SKETCH_77_W, SKETCH_77_H)
    extrude(amount=-CUT_EXTRUDE_41_DEPTH, mode=Mode.SUBTRACT)

    # 草圖78 → 除料-伸長42 (cut, through all)
    with BuildSketch(Plane.XY.offset(50)):
        with Locations((-1.39148813, 108.73)):
            Circle(SKETCH_78_R)
    extrude(amount=-CUT_EXTRUDE_42_DEPTH, mode=Mode.SUBTRACT)

    # 草圖79 → 除料-伸長43 (cut, two sides)
    with BuildSketch(Plane(origin=(-11.99148813, 0, 0), x_dir=(0, 0, -1), z_dir=(1, 0, 0))) as cut_extrude_43_sk:
        with Locations((28.39, 106.68)):
            Circle(SKETCH_79_R)
        with Locations((-28.635, 106.68)):
            Circle(SKETCH_79_R)
    extrude(amount=CUT_EXTRUDE_43_DEPTH, mode=Mode.SUBTRACT)
    extrude(cut_extrude_43_sk.sketch, amount=-CUT_EXTRUDE_43_DEPTH_BACK, mode=Mode.SUBTRACT)

    # 草圖80 → 伸長-薄件3 (add)
    with BuildSketch(Plane(origin=(0, 116.68, 0), x_dir=(1, 0, 0), z_dir=(0, 1, 0))):
        Circle(SKETCH_80_R)
        Circle(SKETCH_80_R_2, mode=Mode.SUBTRACT)
    extrude(amount=-EXTRUDE_3_DEPTH)

    # 草圖81 → 除料-伸長44 (cut, through all)
    with BuildSketch(Plane.XY.offset(50)):
        Polygon((8.20851187, 77.631723139), (-11, 77.631723139), (-10.995, 76.68), (10.995, 76.68), (10.995, 77.631723139), align=None)
    extrude(amount=-CUT_EXTRUDE_44_DEPTH, mode=Mode.SUBTRACT)

    # 草圖82 → 除料-伸長45 (cut)
    with BuildSketch(Plane(origin=(0, 116.68, 0), x_dir=(1, 0, 0), z_dir=(0, 1, 0))):
        with Locations((6.995, 0)):
            Rectangle(SKETCH_82_W, SKETCH_82_H)
    extrude(amount=-CUT_EXTRUDE_45_DEPTH, mode=Mode.SUBTRACT)

    # 草圖83 → 除料-伸長46 (cut)
    with BuildSketch(Plane.XY.offset(50)):
        with Locations((-1.39148813, 108.73)):
            Circle(SKETCH_83_R)
    extrude(amount=-CUT_EXTRUDE_46_DEPTH, mode=Mode.SUBTRACT)

    # 草圖84 → 除料-伸長47 (cut)
    with BuildSketch(Plane(origin=(0, 116.68, 0), x_dir=(1, 0, 0), z_dir=(0, 1, 0))):
        with Locations((10.635588866, -0.211738477)):
            Rectangle(SKETCH_84_W, SKETCH_84_H)
    extrude(amount=-CUT_EXTRUDE_47_DEPTH, mode=Mode.SUBTRACT)

    # 草圖85 → 除料-伸長48 (cut, through all)
    with BuildSketch(Plane(origin=(0, 116.68, 0), x_dir=(1, 0, 0), z_dir=(0, 1, 0))):
        Circle(SKETCH_85_R)
    extrude(amount=-CUT_EXTRUDE_48_DEPTH, mode=Mode.SUBTRACT)


solid = part.part
